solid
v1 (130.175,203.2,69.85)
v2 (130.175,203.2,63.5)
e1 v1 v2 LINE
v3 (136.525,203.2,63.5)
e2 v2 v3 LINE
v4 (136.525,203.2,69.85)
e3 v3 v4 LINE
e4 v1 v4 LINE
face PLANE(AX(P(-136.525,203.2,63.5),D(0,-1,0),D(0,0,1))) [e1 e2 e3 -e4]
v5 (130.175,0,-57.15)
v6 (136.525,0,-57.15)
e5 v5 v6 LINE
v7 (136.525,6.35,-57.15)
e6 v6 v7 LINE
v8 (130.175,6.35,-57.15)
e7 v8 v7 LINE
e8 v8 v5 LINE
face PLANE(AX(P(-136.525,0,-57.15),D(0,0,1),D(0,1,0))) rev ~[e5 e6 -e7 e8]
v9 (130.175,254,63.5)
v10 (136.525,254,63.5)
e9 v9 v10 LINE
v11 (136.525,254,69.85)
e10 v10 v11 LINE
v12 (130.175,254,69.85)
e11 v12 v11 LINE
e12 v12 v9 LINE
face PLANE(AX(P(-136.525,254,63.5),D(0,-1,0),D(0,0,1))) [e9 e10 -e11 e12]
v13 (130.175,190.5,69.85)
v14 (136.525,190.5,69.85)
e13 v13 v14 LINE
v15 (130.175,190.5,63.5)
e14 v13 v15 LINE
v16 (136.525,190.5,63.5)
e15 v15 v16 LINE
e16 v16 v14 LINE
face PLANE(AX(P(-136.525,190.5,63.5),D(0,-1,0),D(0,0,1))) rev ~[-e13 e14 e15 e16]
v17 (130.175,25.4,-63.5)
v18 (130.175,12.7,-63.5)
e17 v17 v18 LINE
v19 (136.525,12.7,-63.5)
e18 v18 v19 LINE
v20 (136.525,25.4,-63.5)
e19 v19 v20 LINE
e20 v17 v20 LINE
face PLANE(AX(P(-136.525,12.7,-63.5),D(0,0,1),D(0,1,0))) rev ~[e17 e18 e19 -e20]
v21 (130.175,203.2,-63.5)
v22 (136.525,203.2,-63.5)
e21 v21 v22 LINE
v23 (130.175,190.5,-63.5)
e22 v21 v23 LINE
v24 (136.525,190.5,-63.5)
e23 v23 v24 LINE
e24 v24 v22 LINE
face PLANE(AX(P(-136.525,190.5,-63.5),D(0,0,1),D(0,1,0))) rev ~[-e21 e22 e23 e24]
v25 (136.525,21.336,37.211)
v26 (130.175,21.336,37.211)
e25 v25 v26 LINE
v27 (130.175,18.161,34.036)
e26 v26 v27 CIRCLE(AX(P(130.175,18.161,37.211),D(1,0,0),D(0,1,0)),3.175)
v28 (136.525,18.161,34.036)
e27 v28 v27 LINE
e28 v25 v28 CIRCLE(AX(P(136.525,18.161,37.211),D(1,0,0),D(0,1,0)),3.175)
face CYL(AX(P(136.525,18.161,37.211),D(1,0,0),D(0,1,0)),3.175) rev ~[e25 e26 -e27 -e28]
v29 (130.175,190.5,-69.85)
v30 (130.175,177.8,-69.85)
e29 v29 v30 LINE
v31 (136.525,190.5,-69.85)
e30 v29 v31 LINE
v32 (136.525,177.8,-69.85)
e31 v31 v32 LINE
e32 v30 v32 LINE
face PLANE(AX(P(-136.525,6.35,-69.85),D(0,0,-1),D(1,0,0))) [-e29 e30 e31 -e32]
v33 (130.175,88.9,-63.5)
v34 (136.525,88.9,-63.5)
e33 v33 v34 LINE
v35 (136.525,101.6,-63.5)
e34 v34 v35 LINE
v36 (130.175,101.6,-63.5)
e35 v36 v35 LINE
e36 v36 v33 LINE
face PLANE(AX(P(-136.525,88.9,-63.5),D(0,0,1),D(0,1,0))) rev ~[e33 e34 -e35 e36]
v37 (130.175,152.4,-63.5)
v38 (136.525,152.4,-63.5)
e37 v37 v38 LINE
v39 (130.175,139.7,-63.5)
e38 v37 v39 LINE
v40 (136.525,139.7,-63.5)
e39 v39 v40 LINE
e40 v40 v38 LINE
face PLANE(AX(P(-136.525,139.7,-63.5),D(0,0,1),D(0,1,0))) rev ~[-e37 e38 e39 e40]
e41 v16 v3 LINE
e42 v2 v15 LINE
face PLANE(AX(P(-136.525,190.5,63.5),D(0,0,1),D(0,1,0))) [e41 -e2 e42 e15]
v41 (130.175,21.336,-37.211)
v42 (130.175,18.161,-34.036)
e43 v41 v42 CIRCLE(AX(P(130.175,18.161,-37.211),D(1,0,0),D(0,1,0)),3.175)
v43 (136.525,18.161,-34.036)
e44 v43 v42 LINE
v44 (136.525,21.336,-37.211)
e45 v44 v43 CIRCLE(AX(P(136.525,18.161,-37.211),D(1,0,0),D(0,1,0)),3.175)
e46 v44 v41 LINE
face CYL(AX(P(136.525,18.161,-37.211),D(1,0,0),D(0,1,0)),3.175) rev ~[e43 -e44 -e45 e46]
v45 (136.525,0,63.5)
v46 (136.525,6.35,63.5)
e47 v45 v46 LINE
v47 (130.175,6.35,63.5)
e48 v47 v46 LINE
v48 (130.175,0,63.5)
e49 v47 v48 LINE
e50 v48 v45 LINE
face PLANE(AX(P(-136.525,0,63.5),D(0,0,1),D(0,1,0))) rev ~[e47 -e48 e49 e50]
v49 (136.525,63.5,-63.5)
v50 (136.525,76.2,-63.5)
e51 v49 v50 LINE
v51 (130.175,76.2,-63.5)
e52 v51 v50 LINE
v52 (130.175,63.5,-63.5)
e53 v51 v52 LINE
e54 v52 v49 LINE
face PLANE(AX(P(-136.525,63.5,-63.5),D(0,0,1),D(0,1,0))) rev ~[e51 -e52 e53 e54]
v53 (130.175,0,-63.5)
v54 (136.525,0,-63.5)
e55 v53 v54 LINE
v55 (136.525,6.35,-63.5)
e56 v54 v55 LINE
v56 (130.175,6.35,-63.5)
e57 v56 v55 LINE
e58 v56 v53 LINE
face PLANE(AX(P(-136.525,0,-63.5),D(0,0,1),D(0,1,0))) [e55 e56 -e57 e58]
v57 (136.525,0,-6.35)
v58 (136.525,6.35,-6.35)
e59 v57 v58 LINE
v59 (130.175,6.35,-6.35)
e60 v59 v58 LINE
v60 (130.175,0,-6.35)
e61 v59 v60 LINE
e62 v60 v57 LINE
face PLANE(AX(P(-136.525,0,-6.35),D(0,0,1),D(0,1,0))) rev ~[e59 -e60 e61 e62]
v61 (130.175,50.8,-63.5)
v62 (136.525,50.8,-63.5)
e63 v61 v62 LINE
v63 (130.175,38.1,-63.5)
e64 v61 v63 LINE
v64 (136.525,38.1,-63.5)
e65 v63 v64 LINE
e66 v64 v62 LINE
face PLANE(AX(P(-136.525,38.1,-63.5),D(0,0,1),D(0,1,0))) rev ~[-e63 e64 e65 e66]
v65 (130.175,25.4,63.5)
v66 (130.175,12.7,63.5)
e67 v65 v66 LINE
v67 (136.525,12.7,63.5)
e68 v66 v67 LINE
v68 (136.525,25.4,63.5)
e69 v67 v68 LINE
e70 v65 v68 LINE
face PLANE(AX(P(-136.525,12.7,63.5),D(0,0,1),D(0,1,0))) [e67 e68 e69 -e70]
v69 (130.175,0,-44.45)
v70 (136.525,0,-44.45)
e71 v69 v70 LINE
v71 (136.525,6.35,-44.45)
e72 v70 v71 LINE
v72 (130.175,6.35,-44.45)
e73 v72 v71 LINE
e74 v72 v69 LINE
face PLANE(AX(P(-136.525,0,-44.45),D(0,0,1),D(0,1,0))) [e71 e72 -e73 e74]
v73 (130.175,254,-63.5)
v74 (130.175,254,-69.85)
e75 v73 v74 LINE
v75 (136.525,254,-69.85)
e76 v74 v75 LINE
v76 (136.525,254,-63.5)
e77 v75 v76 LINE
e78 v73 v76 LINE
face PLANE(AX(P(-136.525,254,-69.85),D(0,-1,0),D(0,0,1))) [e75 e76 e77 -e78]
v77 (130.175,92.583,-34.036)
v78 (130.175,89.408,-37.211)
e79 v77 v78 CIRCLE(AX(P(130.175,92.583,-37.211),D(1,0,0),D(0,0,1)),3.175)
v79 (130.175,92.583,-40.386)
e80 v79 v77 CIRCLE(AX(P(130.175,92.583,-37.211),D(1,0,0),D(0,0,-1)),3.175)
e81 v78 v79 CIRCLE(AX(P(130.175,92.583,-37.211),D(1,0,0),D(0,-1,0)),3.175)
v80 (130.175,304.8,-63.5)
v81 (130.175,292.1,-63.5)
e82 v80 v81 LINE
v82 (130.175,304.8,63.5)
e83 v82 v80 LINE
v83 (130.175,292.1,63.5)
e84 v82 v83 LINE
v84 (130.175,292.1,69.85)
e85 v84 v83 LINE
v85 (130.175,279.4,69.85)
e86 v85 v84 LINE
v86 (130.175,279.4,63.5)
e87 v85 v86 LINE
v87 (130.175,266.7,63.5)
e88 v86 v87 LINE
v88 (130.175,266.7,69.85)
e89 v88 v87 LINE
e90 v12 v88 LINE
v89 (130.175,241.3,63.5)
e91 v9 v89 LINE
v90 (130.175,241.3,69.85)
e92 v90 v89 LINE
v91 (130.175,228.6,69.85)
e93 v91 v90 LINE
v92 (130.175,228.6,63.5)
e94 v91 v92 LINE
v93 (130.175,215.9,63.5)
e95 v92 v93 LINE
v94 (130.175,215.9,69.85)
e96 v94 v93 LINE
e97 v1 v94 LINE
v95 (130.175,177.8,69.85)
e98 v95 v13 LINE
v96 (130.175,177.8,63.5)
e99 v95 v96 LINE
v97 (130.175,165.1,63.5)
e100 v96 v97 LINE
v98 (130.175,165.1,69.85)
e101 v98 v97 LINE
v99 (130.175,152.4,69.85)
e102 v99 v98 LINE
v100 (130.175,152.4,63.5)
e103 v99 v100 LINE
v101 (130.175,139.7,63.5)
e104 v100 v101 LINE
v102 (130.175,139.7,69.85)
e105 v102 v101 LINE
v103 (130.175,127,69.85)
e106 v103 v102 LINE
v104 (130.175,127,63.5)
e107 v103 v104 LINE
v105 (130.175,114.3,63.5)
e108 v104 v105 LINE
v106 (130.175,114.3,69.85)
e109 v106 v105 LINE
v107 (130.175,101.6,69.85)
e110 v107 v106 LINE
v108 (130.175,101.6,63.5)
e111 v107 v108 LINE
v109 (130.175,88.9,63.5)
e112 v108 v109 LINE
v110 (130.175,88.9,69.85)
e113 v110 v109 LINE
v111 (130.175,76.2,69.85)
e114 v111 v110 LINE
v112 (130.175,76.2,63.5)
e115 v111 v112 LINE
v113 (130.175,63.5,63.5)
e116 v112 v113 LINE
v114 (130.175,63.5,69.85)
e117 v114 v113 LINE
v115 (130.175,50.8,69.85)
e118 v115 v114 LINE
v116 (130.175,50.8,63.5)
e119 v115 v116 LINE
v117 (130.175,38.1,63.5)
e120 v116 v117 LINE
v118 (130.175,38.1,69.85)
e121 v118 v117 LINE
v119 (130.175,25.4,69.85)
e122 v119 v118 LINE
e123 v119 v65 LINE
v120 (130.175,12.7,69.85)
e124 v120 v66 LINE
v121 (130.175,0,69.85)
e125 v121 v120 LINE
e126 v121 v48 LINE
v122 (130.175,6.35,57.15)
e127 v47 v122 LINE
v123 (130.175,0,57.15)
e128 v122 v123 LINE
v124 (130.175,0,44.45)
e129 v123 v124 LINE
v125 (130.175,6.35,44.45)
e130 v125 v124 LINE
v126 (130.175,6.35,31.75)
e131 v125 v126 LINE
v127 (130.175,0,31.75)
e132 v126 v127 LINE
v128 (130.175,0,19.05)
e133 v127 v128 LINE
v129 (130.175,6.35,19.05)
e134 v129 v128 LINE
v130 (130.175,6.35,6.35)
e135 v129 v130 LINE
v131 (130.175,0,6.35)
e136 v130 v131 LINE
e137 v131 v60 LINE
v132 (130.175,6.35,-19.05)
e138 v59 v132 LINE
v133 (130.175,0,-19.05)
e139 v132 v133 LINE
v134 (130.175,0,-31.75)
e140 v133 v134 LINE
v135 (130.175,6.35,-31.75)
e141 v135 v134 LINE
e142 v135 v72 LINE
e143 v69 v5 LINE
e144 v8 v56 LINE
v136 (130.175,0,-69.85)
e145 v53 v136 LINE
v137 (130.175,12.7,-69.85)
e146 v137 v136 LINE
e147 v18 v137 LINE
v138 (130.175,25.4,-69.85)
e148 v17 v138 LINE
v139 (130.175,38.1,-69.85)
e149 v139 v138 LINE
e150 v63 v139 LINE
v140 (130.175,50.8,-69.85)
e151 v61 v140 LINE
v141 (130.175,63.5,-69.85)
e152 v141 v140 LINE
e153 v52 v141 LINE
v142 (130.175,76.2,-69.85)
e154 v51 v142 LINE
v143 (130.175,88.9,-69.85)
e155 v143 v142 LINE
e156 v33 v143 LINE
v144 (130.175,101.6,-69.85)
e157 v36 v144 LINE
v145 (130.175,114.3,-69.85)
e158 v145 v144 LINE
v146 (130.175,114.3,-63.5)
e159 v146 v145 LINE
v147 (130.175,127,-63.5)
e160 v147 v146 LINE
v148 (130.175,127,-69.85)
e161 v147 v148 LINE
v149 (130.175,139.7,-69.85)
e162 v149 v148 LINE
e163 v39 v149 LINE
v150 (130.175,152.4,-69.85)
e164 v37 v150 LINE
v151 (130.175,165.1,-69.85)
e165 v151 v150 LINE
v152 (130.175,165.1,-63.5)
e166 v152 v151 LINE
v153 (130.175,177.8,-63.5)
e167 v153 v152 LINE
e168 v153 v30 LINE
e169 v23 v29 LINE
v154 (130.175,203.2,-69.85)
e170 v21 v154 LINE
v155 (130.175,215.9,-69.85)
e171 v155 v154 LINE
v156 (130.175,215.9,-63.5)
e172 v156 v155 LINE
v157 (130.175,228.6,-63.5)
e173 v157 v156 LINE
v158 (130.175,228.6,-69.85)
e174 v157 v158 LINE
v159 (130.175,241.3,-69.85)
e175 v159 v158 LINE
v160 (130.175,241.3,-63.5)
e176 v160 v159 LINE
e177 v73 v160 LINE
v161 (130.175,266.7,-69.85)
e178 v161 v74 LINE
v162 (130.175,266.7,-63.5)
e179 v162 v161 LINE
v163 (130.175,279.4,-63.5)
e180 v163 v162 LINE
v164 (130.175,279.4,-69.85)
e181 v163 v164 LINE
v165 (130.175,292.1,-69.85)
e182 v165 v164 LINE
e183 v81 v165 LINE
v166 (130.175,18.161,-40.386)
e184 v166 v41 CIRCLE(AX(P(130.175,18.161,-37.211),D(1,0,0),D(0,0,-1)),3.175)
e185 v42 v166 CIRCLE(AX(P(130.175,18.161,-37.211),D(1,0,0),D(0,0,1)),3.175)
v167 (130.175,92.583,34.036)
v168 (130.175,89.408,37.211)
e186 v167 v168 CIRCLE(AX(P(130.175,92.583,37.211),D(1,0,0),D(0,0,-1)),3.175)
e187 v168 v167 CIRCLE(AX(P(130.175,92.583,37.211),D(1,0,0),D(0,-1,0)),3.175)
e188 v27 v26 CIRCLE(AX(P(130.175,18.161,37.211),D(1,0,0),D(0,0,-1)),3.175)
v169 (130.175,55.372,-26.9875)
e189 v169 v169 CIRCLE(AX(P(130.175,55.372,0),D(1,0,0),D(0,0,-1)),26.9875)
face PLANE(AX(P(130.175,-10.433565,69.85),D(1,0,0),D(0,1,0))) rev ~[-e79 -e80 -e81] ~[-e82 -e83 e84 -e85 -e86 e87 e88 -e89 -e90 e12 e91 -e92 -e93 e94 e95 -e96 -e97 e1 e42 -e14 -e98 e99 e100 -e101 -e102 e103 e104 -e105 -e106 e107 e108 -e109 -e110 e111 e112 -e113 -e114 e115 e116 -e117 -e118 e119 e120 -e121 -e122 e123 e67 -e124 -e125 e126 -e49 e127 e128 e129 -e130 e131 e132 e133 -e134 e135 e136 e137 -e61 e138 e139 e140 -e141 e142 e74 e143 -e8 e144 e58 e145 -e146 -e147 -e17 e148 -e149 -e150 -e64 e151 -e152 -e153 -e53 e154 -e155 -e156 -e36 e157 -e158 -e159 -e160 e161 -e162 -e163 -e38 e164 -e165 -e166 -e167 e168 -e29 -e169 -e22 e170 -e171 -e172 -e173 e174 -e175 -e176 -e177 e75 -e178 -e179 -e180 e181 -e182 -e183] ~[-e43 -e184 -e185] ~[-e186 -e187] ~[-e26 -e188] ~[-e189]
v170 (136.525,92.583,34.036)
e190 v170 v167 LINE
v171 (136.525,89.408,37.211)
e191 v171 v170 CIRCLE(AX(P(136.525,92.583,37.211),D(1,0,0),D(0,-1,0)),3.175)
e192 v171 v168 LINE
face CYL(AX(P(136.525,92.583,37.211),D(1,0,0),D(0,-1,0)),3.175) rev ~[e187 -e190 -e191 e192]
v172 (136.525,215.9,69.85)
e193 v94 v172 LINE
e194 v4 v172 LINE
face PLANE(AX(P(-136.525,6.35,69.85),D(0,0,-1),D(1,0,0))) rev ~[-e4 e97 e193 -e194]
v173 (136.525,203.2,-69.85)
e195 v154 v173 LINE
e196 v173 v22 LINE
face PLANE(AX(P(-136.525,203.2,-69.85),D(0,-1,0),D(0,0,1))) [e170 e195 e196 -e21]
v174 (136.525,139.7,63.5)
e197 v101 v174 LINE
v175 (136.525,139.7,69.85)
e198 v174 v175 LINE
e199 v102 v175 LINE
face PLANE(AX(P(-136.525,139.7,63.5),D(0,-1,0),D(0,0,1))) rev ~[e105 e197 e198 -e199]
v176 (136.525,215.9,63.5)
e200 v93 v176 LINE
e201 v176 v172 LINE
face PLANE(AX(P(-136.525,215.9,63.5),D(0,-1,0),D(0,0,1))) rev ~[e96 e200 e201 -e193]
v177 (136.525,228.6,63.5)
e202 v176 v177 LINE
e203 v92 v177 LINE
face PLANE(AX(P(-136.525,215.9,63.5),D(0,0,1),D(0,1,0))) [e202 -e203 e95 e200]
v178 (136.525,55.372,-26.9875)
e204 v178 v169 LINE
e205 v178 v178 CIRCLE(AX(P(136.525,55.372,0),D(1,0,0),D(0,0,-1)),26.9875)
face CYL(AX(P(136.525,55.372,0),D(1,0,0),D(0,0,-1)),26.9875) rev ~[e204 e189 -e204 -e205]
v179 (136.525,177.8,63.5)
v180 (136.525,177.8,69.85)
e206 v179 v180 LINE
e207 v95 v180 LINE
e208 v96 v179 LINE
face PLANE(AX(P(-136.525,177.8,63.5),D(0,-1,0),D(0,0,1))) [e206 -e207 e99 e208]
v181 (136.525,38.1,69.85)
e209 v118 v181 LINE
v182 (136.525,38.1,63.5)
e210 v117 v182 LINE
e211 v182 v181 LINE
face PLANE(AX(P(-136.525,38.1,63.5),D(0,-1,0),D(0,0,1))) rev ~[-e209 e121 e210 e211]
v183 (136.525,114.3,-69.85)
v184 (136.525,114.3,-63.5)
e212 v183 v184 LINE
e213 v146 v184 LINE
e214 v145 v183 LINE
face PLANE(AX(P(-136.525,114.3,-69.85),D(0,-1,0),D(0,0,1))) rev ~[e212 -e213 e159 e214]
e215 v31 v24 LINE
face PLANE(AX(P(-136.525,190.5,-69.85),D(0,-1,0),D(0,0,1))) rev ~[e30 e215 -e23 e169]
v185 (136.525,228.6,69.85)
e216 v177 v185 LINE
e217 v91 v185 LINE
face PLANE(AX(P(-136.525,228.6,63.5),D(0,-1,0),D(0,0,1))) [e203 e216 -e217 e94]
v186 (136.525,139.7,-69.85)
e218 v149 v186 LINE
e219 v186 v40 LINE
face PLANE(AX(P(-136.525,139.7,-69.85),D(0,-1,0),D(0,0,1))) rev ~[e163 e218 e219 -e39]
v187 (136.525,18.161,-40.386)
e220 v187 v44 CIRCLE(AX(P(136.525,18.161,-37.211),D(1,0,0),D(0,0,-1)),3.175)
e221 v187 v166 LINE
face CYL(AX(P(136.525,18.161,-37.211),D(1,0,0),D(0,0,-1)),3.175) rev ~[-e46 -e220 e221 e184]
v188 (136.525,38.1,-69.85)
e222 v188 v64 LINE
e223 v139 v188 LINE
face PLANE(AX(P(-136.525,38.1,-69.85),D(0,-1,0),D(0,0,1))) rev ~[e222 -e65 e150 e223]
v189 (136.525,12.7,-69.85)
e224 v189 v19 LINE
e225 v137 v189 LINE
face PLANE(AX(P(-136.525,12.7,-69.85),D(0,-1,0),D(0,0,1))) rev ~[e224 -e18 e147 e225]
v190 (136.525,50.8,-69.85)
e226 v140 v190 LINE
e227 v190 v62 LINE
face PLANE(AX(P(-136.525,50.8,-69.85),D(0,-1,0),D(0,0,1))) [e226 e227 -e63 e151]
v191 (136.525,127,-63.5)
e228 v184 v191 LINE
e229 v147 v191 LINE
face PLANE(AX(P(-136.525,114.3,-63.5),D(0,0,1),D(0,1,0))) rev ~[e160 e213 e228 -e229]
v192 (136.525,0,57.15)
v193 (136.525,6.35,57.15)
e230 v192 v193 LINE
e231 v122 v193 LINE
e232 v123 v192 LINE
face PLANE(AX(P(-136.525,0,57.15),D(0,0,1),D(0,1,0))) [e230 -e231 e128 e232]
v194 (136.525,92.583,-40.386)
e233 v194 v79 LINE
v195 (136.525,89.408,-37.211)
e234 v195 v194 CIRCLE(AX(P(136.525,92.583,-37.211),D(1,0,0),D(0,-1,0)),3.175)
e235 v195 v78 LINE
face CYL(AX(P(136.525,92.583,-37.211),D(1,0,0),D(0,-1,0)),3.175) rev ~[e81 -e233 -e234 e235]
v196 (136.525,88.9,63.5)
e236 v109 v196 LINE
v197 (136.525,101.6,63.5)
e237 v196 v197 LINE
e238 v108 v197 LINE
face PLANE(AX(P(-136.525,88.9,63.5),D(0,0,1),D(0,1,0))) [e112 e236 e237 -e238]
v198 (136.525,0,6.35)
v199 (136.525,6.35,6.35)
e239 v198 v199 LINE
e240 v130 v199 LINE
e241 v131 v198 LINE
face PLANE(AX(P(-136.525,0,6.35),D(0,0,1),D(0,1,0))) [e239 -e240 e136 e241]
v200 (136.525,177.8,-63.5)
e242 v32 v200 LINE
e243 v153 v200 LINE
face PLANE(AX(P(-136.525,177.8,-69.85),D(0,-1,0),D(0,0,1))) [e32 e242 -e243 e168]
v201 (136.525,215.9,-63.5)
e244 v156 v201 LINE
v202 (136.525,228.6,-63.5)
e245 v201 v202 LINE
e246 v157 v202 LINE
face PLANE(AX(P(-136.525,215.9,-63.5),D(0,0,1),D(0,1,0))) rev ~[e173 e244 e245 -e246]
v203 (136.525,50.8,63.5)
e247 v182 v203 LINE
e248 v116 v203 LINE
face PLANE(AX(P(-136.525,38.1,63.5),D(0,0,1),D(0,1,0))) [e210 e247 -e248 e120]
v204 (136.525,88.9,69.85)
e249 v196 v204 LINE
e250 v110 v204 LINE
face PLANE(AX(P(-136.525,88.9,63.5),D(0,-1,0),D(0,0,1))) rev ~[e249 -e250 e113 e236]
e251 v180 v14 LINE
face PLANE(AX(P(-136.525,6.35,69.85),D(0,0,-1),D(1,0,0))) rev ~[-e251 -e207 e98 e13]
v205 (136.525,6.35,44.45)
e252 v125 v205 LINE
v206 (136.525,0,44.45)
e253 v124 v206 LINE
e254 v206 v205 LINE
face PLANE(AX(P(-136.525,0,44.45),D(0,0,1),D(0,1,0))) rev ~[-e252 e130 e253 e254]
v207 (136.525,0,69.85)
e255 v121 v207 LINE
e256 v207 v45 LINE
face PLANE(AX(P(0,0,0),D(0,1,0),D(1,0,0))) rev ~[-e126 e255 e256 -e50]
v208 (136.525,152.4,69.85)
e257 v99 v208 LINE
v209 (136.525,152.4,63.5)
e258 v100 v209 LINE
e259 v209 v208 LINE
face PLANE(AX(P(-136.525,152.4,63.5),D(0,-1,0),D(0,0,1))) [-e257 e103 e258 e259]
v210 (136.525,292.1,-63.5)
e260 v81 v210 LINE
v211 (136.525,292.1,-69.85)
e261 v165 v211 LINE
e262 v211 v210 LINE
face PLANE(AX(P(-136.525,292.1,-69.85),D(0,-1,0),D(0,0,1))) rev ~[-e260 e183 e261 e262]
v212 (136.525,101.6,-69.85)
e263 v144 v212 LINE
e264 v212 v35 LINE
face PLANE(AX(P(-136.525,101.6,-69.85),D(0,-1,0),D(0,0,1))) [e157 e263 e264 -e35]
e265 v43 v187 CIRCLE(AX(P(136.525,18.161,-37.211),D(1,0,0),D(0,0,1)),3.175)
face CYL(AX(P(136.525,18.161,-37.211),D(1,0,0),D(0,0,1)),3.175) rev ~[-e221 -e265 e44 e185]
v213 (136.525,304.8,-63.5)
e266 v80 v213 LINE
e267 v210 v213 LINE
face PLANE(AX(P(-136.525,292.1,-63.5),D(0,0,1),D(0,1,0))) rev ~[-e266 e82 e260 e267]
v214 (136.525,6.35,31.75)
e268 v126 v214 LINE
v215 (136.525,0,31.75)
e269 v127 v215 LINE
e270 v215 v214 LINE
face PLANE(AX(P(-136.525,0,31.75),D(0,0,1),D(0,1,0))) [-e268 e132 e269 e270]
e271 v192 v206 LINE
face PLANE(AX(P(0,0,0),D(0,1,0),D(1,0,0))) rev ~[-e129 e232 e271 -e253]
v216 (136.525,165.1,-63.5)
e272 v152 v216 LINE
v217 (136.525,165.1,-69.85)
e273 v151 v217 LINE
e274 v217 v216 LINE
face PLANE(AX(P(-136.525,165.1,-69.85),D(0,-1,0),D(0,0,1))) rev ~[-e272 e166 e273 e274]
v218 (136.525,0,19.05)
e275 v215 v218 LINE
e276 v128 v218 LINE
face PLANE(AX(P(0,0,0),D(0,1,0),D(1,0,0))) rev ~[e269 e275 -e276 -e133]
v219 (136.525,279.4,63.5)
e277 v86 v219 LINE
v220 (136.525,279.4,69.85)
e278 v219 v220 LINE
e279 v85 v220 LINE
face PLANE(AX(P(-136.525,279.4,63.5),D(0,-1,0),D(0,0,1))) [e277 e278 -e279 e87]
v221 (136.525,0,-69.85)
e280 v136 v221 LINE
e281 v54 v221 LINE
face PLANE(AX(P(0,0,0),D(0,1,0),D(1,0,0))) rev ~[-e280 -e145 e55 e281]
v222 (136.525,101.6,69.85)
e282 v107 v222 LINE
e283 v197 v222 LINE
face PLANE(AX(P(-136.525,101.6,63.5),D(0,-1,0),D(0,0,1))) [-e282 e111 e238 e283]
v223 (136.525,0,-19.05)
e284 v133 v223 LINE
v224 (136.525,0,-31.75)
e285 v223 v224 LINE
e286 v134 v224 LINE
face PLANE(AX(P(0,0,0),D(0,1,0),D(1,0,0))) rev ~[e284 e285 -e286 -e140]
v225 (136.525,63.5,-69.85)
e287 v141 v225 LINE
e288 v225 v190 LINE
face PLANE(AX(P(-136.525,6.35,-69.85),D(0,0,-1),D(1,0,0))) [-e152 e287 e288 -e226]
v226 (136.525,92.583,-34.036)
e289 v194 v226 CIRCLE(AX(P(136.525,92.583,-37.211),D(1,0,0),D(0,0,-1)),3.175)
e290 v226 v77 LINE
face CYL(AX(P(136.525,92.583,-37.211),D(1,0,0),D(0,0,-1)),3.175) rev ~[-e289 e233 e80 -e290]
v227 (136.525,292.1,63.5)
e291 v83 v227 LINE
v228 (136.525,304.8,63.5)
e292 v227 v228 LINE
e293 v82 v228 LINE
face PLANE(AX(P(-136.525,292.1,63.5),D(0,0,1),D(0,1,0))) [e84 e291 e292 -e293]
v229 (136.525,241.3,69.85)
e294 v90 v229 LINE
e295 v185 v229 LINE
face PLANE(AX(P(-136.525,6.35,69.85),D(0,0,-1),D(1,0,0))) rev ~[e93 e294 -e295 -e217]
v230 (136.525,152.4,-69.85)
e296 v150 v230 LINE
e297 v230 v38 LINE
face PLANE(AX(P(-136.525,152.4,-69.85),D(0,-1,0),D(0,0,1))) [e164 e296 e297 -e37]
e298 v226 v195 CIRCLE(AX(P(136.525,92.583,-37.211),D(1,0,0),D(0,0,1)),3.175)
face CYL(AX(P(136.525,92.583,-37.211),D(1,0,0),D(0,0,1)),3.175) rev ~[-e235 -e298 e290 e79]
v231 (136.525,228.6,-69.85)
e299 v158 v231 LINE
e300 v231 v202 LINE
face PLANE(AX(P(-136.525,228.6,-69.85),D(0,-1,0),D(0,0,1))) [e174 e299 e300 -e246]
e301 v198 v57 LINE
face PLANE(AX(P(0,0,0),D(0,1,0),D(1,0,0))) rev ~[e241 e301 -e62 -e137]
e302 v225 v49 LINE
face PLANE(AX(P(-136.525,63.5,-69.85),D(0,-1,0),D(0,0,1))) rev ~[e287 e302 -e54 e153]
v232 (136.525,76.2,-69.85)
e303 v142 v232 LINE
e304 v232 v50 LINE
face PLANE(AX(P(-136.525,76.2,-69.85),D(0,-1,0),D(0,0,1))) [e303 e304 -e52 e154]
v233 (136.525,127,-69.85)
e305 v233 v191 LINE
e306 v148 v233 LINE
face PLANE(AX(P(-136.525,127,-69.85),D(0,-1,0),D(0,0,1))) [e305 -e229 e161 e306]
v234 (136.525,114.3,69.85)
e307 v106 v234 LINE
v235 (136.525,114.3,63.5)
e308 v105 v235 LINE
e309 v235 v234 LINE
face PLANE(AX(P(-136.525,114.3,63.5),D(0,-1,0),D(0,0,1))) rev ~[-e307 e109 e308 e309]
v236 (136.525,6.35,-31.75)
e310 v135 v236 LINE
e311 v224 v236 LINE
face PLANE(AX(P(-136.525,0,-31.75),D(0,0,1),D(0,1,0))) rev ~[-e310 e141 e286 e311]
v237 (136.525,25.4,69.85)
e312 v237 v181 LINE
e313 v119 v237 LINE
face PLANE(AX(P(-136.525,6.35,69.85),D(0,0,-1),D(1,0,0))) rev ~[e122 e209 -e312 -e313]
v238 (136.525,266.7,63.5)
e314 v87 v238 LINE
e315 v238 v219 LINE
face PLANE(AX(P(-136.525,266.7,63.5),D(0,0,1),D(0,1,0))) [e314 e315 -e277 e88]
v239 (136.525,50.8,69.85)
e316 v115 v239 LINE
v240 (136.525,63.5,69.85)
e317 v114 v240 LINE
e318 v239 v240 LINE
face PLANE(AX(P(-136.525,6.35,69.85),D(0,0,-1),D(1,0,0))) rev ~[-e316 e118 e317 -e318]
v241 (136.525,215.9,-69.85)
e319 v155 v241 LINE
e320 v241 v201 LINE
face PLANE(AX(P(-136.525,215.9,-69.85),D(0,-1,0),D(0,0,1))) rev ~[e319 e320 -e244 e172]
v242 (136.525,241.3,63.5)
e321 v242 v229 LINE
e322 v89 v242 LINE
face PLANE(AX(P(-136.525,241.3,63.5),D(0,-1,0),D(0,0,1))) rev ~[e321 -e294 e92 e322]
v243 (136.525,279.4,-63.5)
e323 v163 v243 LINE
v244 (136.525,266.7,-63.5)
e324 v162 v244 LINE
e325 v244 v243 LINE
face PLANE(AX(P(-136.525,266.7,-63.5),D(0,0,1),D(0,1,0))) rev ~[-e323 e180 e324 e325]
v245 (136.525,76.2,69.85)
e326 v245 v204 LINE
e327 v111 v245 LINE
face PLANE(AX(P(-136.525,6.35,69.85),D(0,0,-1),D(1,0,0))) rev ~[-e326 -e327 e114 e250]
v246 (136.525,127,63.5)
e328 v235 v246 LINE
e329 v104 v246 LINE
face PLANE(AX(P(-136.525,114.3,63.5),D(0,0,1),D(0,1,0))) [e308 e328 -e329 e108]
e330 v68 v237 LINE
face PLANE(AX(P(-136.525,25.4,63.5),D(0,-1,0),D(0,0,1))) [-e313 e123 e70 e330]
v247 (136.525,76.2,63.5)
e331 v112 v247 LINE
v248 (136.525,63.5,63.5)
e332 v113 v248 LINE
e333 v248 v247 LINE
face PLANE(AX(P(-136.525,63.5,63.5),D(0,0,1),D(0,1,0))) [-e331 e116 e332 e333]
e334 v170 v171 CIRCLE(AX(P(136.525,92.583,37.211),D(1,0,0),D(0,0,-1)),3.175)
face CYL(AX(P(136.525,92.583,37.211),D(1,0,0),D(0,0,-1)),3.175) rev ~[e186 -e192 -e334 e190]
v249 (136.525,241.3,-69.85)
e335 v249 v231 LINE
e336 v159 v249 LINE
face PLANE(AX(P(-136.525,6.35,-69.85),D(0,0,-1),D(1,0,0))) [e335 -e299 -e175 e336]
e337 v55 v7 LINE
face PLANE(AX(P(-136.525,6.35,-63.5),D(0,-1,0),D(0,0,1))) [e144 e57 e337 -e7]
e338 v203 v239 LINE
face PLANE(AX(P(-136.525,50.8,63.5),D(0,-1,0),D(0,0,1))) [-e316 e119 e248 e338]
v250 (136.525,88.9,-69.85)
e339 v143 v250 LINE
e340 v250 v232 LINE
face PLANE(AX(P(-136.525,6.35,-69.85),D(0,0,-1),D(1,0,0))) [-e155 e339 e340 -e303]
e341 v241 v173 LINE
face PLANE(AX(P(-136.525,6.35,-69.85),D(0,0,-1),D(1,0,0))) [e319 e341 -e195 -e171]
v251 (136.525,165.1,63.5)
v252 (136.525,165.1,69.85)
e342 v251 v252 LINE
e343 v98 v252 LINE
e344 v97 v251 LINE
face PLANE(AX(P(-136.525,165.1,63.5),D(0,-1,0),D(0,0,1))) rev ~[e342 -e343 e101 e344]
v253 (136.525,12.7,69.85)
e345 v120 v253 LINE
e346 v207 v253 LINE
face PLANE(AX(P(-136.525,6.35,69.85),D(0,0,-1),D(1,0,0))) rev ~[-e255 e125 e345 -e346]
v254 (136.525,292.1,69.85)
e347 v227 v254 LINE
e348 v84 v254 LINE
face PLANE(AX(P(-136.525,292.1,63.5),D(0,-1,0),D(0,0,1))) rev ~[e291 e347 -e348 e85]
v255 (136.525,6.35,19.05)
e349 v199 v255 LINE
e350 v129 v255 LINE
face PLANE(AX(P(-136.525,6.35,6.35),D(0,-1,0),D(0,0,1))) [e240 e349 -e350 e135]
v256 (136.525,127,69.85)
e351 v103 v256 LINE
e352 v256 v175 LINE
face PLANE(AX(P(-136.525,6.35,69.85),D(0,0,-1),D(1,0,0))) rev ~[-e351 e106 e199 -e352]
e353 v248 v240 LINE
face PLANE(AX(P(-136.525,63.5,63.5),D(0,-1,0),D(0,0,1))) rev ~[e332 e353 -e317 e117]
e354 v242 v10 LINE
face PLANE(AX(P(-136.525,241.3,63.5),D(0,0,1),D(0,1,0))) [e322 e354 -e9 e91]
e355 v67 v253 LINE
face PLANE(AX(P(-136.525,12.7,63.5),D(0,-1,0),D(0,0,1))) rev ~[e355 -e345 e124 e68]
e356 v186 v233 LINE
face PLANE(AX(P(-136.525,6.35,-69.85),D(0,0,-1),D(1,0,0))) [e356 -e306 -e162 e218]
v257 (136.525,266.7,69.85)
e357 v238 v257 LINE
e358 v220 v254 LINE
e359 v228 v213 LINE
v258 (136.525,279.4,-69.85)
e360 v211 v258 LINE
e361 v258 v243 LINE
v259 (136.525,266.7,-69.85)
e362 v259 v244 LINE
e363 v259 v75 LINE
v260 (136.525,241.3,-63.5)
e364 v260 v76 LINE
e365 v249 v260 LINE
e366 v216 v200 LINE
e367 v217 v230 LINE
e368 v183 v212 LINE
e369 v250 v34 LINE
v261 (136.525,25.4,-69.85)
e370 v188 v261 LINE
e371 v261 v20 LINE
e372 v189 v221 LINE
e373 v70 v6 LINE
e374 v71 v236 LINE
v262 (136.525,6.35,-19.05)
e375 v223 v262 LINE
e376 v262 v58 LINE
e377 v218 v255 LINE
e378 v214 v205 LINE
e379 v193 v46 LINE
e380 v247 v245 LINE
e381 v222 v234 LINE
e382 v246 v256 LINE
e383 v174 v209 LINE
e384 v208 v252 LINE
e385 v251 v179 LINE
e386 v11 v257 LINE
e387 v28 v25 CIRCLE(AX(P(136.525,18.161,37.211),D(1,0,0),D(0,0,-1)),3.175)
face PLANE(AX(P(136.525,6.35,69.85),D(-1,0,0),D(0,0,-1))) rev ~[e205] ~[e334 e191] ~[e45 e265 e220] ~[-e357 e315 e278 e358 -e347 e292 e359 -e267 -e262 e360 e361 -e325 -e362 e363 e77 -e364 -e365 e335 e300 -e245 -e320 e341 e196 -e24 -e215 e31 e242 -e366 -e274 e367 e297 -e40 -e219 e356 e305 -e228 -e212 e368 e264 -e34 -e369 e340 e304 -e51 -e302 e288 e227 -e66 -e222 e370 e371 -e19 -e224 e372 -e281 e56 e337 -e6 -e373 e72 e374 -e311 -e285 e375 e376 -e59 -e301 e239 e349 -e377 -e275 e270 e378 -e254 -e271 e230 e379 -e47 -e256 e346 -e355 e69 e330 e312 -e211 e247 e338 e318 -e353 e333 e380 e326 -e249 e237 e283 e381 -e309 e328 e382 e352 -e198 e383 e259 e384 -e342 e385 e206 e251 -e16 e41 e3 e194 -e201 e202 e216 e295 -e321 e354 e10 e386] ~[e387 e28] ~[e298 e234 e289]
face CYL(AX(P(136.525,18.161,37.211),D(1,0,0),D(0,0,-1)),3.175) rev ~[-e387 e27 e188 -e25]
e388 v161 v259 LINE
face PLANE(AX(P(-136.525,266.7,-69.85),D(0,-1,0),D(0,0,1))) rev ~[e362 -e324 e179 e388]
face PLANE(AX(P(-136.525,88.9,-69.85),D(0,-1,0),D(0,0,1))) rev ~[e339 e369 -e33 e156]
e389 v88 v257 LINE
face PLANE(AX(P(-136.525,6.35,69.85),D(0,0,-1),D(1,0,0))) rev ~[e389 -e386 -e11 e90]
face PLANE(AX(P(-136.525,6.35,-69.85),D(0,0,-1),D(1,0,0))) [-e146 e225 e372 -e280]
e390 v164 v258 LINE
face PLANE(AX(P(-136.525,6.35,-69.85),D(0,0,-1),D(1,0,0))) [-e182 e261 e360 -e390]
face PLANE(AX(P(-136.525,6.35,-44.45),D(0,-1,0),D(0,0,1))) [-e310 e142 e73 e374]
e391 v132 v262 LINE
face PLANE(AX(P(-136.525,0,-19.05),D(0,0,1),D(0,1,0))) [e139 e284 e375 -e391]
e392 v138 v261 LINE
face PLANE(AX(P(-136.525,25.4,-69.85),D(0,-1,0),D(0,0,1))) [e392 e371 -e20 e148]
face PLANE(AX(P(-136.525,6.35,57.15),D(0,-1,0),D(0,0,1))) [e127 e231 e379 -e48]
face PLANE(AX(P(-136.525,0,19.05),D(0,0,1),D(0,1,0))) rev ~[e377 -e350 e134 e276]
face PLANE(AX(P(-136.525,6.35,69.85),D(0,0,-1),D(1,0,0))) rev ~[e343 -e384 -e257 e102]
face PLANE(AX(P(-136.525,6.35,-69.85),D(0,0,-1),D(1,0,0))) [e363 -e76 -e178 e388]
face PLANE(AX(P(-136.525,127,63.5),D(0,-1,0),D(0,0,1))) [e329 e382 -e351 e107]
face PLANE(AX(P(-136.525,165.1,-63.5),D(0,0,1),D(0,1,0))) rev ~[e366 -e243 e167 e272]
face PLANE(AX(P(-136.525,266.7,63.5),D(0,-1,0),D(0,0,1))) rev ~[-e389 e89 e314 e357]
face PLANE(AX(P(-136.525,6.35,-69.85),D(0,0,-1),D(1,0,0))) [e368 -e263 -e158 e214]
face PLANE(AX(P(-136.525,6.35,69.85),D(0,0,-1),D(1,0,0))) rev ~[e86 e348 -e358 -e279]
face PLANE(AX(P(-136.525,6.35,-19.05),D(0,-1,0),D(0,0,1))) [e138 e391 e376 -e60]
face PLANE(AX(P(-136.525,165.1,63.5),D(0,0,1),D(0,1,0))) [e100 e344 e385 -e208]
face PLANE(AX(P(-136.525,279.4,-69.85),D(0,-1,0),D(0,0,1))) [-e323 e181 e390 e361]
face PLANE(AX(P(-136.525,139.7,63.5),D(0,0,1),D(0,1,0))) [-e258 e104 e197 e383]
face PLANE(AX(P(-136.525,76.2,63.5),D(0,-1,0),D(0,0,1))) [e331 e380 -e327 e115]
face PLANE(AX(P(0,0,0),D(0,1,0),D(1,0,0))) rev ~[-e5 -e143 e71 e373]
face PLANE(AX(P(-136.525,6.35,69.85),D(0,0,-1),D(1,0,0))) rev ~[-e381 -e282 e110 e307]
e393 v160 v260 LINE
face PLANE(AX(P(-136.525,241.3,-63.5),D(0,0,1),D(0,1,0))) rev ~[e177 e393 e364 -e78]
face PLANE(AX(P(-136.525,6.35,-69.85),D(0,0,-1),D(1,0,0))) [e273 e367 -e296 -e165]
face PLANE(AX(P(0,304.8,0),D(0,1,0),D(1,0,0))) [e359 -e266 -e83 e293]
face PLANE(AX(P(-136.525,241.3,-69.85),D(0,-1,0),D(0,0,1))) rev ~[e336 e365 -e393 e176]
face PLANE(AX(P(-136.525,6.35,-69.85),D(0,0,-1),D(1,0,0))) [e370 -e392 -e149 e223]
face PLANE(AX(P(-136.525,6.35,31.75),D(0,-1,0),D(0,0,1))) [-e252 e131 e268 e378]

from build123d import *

# Parameters (mm, degrees)
SKETCH1_W              = 273.05
SKETCH1_H              = 139.7
BOSS_EXTRUDE1_DEPTH    = 6.35
SKETCH2_W              = 273.05
SKETCH2_H              = 139.7
SKETCH2_W_2            = 260.35
SKETCH2_H_2            = 127
BOSS_EXTRUDE2_DEPTH    = 298.45
SKETCH3_W              = 6.35
SKETCH3_H              = 16.933333333
SKETCH3_H_2            = 16.933333334
DOOR_SLOT_DEPTH        = 12.7
DOOR_GUIDE_HOLES_REACH = 361.617
SKETCH4_W              = 6.35
SKETCH4_H              = 15.875
LEVER_HOLES_W          = 9.652
LEVER_HOLES_H          = 6.35
LEVER_HOLES_W_2        = 6.35
CUT_EXTRUDE1_DEPTH     = 363.019620497
CUT_EXTRUDE2_REACH     = 417.137
SKETCH7_R              = 26.9875
CUT_EXTRUDE3_REACH     = 417.137
SKETCH8_R              = 3.175
SKETCH16_W             = 326.476778096
SKETCH16_H             = 315.233565403
CUT_EXTRUDE10_DEPTH    = 363.019620497
LEFT_RIGHT_W           = 6.35
LEFT_RIGHT_H           = 6.35
LEFT_RIGHT_W_2         = 12.7
LEFT_RIGHT_H_2         = 12.7
CUT_EXTRUDE11_DEPTH    = 416.136561869


with BuildPart() as part:
    # Sketch1 → Boss-Extrude1 (new body)
    with BuildSketch(Plane(origin=(0, 0, 0), x_dir=(1, 0, 0), z_dir=(0, 1, 0))):
        Rectangle(SKETCH1_W, SKETCH1_H)
    extrude(amount=BOSS_EXTRUDE1_DEPTH)

    # Sketch2 → Boss-Extrude2 (add)
    with BuildSketch(Plane(origin=(0, 6.35, 0), x_dir=(1, 0, 0), z_dir=(0, 1, 0))):
        Rectangle(SKETCH2_W, SKETCH2_H)
        Rectangle(SKETCH2_W_2, SKETCH2_H_2, mode=Mode.SUBTRACT)
    extrude(amount=BOSS_EXTRUDE2_DEPTH)

    # Sketch3 → Door Slot (cut)
    with BuildSketch(Plane.XY.offset(69.85)):
        with BuildLine():
            Line((-28.575, 283.21), (-28.575, 6.35))
            Line((-28.575, 6.35), (-21.971, 6.35))
            Line((-21.971, 6.35), (-21.971, 292.354))
            Line((-21.971, 292.354), (-41.529, 292.354))
            Line((-41.529, 292.354), (-41.529, 285.75))
            Line((-41.529, 285.75), (-31.115, 285.75))
            ThreePointArc((-31.115, 285.75), (-29.318948776, 285.006051224), (-28.575, 283.21))
        make_face()
        with Locations((-12.446, 80.433333334)):
            Rectangle(SKETCH3_W, SKETCH3_H)
        with Locations((-12.446, 50.8)):
            Rectangle(SKETCH3_W, SKETCH3_H_2)
        with Locations((-12.446, 21.166666667)):
            Rectangle(SKETCH3_W, SKETCH3_H)
    extrude(amount=-DOOR_SLOT_DEPTH, mode=Mode.SUBTRACT)

    # Sketch4 → Door Guide Holes (cut, up to next)
    with BuildSketch(Plane.XY.offset(-63.5), mode=Mode.PRIVATE) as door_guide_holes_sk1:
        with Locations((-44.704, 284.1625)):
            Rectangle(SKETCH4_W, SKETCH4_H)
    door_guide_holes_tool1 = extrude(door_guide_holes_sk1.sketch, amount=-DOOR_GUIDE_HOLES_REACH, mode=Mode.PRIVATE) & part.part
    # Sketch4 → Door Guide Holes (cut, up to next)
    with BuildSketch(Plane.XY.offset(-63.5), mode=Mode.PRIVATE) as door_guide_holes_sk2:
        with Locations((-44.704, 255.5875)):
            Rectangle(SKETCH4_W, SKETCH4_H)
    door_guide_holes_tool2 = extrude(door_guide_holes_sk2.sketch, amount=-DOOR_GUIDE_HOLES_REACH, mode=Mode.PRIVATE) & part.part
    # Sketch4 → Door Guide Holes (cut, up to next)
    with BuildSketch(Plane.XY.offset(-63.5), mode=Mode.PRIVATE) as door_guide_holes_sk3:
        with Locations((-44.704, 227.0125)):
            Rectangle(SKETCH4_W, SKETCH4_H)
    door_guide_holes_tool3 = extrude(door_guide_holes_sk3.sketch, amount=-DOOR_GUIDE_HOLES_REACH, mode=Mode.PRIVATE) & part.part
    # Sketch4 → Door Guide Holes (cut, up to next)
    with BuildSketch(Plane.XY.offset(-63.5), mode=Mode.PRIVATE) as door_guide_holes_sk4:
        with Locations((-44.704, 198.4375)):
            Rectangle(SKETCH4_W, SKETCH4_H)
    door_guide_holes_tool4 = extrude(door_guide_holes_sk4.sketch, amount=-DOOR_GUIDE_HOLES_REACH, mode=Mode.PRIVATE) & part.part
    # Sketch4 → Door Guide Holes (cut, up to next)
    with BuildSketch(Plane.XY.offset(-63.5), mode=Mode.PRIVATE) as door_guide_holes_sk5:
        with Locations((-44.704, 169.8625)):
            Rectangle(SKETCH4_W, SKETCH4_H)
    door_guide_holes_tool5 = extrude(door_guide_holes_sk5.sketch, amount=-DOOR_GUIDE_HOLES_REACH, mode=Mode.PRIVATE) & part.part
    # Sketch4 → Door Guide Holes (cut, up to next)
    with BuildSketch(Plane.XY.offset(-63.5), mode=Mode.PRIVATE) as door_guide_holes_sk6:
        with Locations((-44.704, 141.2875)):
            Rectangle(SKETCH4_W, SKETCH4_H)
    door_guide_holes_tool6 = extrude(door_guide_holes_sk6.sketch, amount=-DOOR_GUIDE_HOLES_REACH, mode=Mode.PRIVATE) & part.part
    # Sketch4 → Door Guide Holes (cut, up to next)
    with BuildSketch(Plane.XY.offset(-63.5), mode=Mode.PRIVATE) as door_guide_holes_sk7:
        with Locations((-44.704, 112.7125)):
            Rectangle(SKETCH4_W, SKETCH4_H)
    door_guide_holes_tool7 = extrude(door_guide_holes_sk7.sketch, amount=-DOOR_GUIDE_HOLES_REACH, mode=Mode.PRIVATE) & part.part
    # Sketch4 → Door Guide Holes (cut, up to next)
    with BuildSketch(Plane.XY.offset(-63.5), mode=Mode.PRIVATE) as door_guide_holes_sk8:
        with Locations((-44.704, 84.1375)):
            Rectangle(SKETCH4_W, SKETCH4_H)
    door_guide_holes_tool8 = extrude(door_guide_holes_sk8.sketch, amount=-DOOR_GUIDE_HOLES_REACH, mode=Mode.PRIVATE) & part.part
    # Sketch4 → Door Guide Holes (cut, up to next)
    with BuildSketch(Plane.XY.offset(-63.5), mode=Mode.PRIVATE) as door_guide_holes_sk9:
        with Locations((-44.704, 55.5625)):
            Rectangle(SKETCH4_W, SKETCH4_H)
    door_guide_holes_tool9 = extrude(door_guide_holes_sk9.sketch, amount=-DOOR_GUIDE_HOLES_REACH, mode=Mode.PRIVATE) & part.part
    # Sketch4 → Door Guide Holes (cut, up to next)
    with BuildSketch(Plane.XY.offset(-63.5), mode=Mode.PRIVATE) as door_guide_holes_sk10:
        with Locations((-44.704, 26.9875)):
            Rectangle(SKETCH4_W, SKETCH4_H)
    door_guide_holes_tool10 = extrude(door_guide_holes_sk10.sketch, amount=-DOOR_GUIDE_HOLES_REACH, mode=Mode.PRIVATE) & part.part
    door_guide_holes_1 = door_guide_holes_tool1.solids().sort_by_distance((-44.704, 284.1625, -63.5))[0]
    add(door_guide_holes_1, mode=Mode.SUBTRACT)
    door_guide_holes_2 = door_guide_holes_tool2.solids().sort_by_distance((-44.704, 255.5875, -63.5))[0]
    add(door_guide_holes_2, mode=Mode.SUBTRACT)
    door_guide_holes_3 = door_guide_holes_tool3.solids().sort_by_distance((-44.704, 227.0125, -63.5))[0]
    add(door_guide_holes_3, mode=Mode.SUBTRACT)
    door_guide_holes_4 = door_guide_holes_tool4.solids().sort_by_distance((-44.704, 198.4375, -63.5))[0]
    add(door_guide_holes_4, mode=Mode.SUBTRACT)
    door_guide_holes_5 = door_guide_holes_tool5.solids().sort_by_distance((-44.704, 169.8625, -63.5))[0]
    add(door_guide_holes_5, mode=Mode.SUBTRACT)
    door_guide_holes_6 = door_guide_holes_tool6.solids().sort_by_distance((-44.704, 141.2875, -63.5))[0]
    add(door_guide_holes_6, mode=Mode.SUBTRACT)
    door_guide_holes_7 = door_guide_holes_tool7.solids().sort_by_distance((-44.704, 112.7125, -63.5))[0]
    add(door_guide_holes_7, mode=Mode.SUBTRACT)
    door_guide_holes_8 = door_guide_holes_tool8.solids().sort_by_distance((-44.704, 84.1375, -63.5))[0]
    add(door_guide_holes_8, mode=Mode.SUBTRACT)
    door_guide_holes_9 = door_guide_holes_tool9.solids().sort_by_distance((-44.704, 55.5625, -63.5))[0]
    add(door_guide_holes_9, mode=Mode.SUBTRACT)
    door_guide_holes_10 = door_guide_holes_tool10.solids().sort_by_distance((-44.704, 26.9875, -63.5))[0]
    add(door_guide_holes_10, mode=Mode.SUBTRACT)
    door_guide_holes = door_guide_holes_1 + door_guide_holes_2 + door_guide_holes_3 + door_guide_holes_4 + door_guide_holes_5 + door_guide_holes_6 + door_guide_holes_7 + door_guide_holes_8 + door_guide_holes_9 + door_guide_holes_10  # Door Guide Holes as one shape, for the pattern or mirror that repeats it

    # Mirror1: Door Guide Holes across plane
    add(door_guide_holes.mirror(Plane.ZY.offset(31.75)), mode=Mode.SUBTRACT)

    # Lever Holes → Cut-Extrude1 (cut, through all)
    with BuildSketch(Plane.XY.offset(69.85)):
        with Locations((54.102, 28.575)):
            Rectangle(LEVER_HOLES_W, LEVER_HOLES_H)
        with Locations((39.3065, 15.875)):
            Rectangle(LEVER_HOLES_W_2, LEVER_HOLES_H)
        with Locations((68.8975, 15.875)):
            Rectangle(LEVER_HOLES_W_2, LEVER_HOLES_H)
    extrude(amount=-CUT_EXTRUDE1_DEPTH, mode=Mode.SUBTRACT)

    # Sketch7 → Cut-Extrude2 (cut, up to next)
    with BuildSketch(Plane(origin=(136.525, 0, 0), x_dir=(0, 0, -1), z_dir=(1, 0, 0)), mode=Mode.PRIVATE) as cut_extrude2_sk1:
        with Locations((0, 55.372)):
            Circle(SKETCH7_R)
    cut_extrude2_tool1 = extrude(cut_extrude2_sk1.sketch, amount=-CUT_EXTRUDE2_REACH, mode=Mode.PRIVATE) & part.part
    # Sketch7 → Cut-Extrude2 (cut, up to next)
    with BuildSketch(Plane(origin=(136.525, 0, 0), x_dir=(0, 0, -1), z_dir=(1, 0, 0)), mode=Mode.PRIVATE) as cut_extrude2_sk2:
        with BuildLine():
            Line((-37.211, 89.408), (-37.211, 92.583))
            Line((-37.211, 92.583), (-34.036, 92.583))
            ThreePointArc((-34.036, 92.583), (-39.45606403, 94.82806403), (-37.211, 89.408))
        make_face()
    cut_extrude2_tool2 = extrude(cut_extrude2_sk2.sketch, amount=-CUT_EXTRUDE2_REACH, mode=Mode.PRIVATE) & part.part
    # Sketch7 → Cut-Extrude2 (cut, up to next)
    with BuildSketch(Plane(origin=(136.525, 0, 0), x_dir=(0, 0, -1), z_dir=(1, 0, 0)), mode=Mode.PRIVATE) as cut_extrude2_sk3:
        with BuildLine():
            Line((-34.036, 92.583), (-37.211, 92.583))
            Line((-37.211, 92.583), (-37.211, 89.408))
            ThreePointArc((-37.211, 89.408), (-34.96593597, 90.33793597), (-34.036, 92.583))
        make_face()
    cut_extrude2_tool3 = extrude(cut_extrude2_sk3.sketch, amount=-CUT_EXTRUDE2_REACH, mode=Mode.PRIVATE) & part.part
    # Sketch7 → Cut-Extrude2 (cut, up to next)
    with BuildSketch(Plane(origin=(136.525, 0, 0), x_dir=(0, 0, -1), z_dir=(1, 0, 0)), mode=Mode.PRIVATE) as cut_extrude2_sk4:
        with BuildLine():
            Line((-37.211, 89.408), (-37.211, 92.583))
            Line((-37.211, 92.583), (-34.036, 92.583))
            ThreePointArc((-34.036, 92.583), (-39.45606403, 94.82806403), (-37.211, 89.408))
        make_face()
    cut_extrude2_tool4 = extrude(cut_extrude2_sk4.sketch, amount=-CUT_EXTRUDE2_REACH, mode=Mode.PRIVATE) & part.part
    # Sketch7 → Cut-Extrude2 (cut, up to next)
    with BuildSketch(Plane(origin=(136.525, 0, 0), x_dir=(0, 0, -1), z_dir=(1, 0, 0)), mode=Mode.PRIVATE) as cut_extrude2_sk5:
        with BuildLine():
            Line((-34.036, 92.583), (-37.211, 92.583))
            Line((-37.211, 92.583), (-37.211, 89.408))
            ThreePointArc((-37.211, 89.408), (-34.96593597, 90.33793597), (-34.036, 92.583))
        make_face()
    cut_extrude2_tool5 = extrude(cut_extrude2_sk5.sketch, amount=-CUT_EXTRUDE2_REACH, mode=Mode.PRIVATE) & part.part
    # Sketch7 → Cut-Extrude2 (cut, up to next)
    with BuildSketch(Plane(origin=(136.525, 0, 0), x_dir=(0, 0, -1), z_dir=(1, 0, 0)), mode=Mode.PRIVATE) as cut_extrude2_sk6:
        with BuildLine():
            ThreePointArc((40.386, 92.583), (37.211, 95.758), (34.036, 92.583))
            Line((34.036, 92.583), (37.211, 92.583))
            Line((37.211, 92.583), (37.211, 89.408))
            ThreePointArc((37.211, 89.408), (39.45606403, 90.33793597), (40.386, 92.583))
        make_face()
    cut_extrude2_tool6 = extrude(cut_extrude2_sk6.sketch, amount=-CUT_EXTRUDE2_REACH, mode=Mode.PRIVATE) & part.part
    # Sketch7 → Cut-Extrude2 (cut, up to next)
    with BuildSketch(Plane(origin=(136.525, 0, 0), x_dir=(0, 0, -1), z_dir=(1, 0, 0)), mode=Mode.PRIVATE) as cut_extrude2_sk7:
        with BuildLine():
            Line((37.211, 92.583), (34.036, 92.583))
            ThreePointArc((34.036, 92.583), (34.96593597, 90.33793597), (37.211, 89.408))
            Line((37.211, 89.408), (37.211, 92.583))
        make_face()
    cut_extrude2_tool7 = extrude(cut_extrude2_sk7.sketch, amount=-CUT_EXTRUDE2_REACH, mode=Mode.PRIVATE) & part.part
    # Sketch7 → Cut-Extrude2 (cut, up to next)
    with BuildSketch(Plane(origin=(136.525, 0, 0), x_dir=(0, 0, -1), z_dir=(1, 0, 0)), mode=Mode.PRIVATE) as cut_extrude2_sk8:
        with BuildLine():
            ThreePointArc((40.386, 92.583), (37.211, 95.758), (34.036, 92.583))
            Line((34.036, 92.583), (37.211, 92.583))
            Line((37.211, 92.583), (37.211, 89.408))
            ThreePointArc((37.211, 89.408), (39.45606403, 90.33793597), (40.386, 92.583))
        make_face()
    cut_extrude2_tool8 = extrude(cut_extrude2_sk8.sketch, amount=-CUT_EXTRUDE2_REACH, mode=Mode.PRIVATE) & part.part
    # Sketch7 → Cut-Extrude2 (cut, up to next)
    with BuildSketch(Plane(origin=(136.525, 0, 0), x_dir=(0, 0, -1), z_dir=(1, 0, 0)), mode=Mode.PRIVATE) as cut_extrude2_sk9:
        with BuildLine():
            Line((37.211, 92.583), (34.036, 92.583))
            ThreePointArc((34.036, 92.583), (34.96593597, 90.33793597), (37.211, 89.408))
            Line((37.211, 89.408), (37.211, 92.583))
        make_face()
    cut_extrude2_tool9 = extrude(cut_extrude2_sk9.sketch, amount=-CUT_EXTRUDE2_REACH, mode=Mode.PRIVATE) & part.part
    # Sketch7 → Cut-Extrude2 (cut, up to next)
    with BuildSketch(Plane(origin=(136.525, 0, 0), x_dir=(0, 0, -1), z_dir=(1, 0, 0)), mode=Mode.PRIVATE) as cut_extrude2_sk10:
        with BuildLine():
            ThreePointArc((-34.036, 18.161), (-34.96593597, 20.40606403), (-37.211, 21.336))
            Line((-37.211, 21.336), (-37.211, 18.161))
            Line((-37.211, 18.161), (-34.036, 18.161))
        make_face()
    cut_extrude2_tool10 = extrude(cut_extrude2_sk10.sketch, amount=-CUT_EXTRUDE2_REACH, mode=Mode.PRIVATE) & part.part
    # Sketch7 → Cut-Extrude2 (cut, up to next)
    with BuildSketch(Plane(origin=(136.525, 0, 0), x_dir=(0, 0, -1), z_dir=(1, 0, 0)), mode=Mode.PRIVATE) as cut_extrude2_sk11:
        with BuildLine():
            Line((-37.211, 18.161), (-37.211, 21.336))
            ThreePointArc((-37.211, 21.336), (-39.45606403, 15.91593597), (-34.036, 18.161))
            Line((-34.036, 18.161), (-37.211, 18.161))
        make_face()
    cut_extrude2_tool11 = extrude(cut_extrude2_sk11.sketch, amount=-CUT_EXTRUDE2_REACH, mode=Mode.PRIVATE) & part.part
    # Sketch7 → Cut-Extrude2 (cut, up to next)
    with BuildSketch(Plane(origin=(136.525, 0, 0), x_dir=(0, 0, -1), z_dir=(1, 0, 0)), mode=Mode.PRIVATE) as cut_extrude2_sk12:
        with BuildLine():
            ThreePointArc((-34.036, 18.161), (-34.96593597, 20.40606403), (-37.211, 21.336))
            Line((-37.211, 21.336), (-37.211, 18.161))
            Line((-37.211, 18.161), (-34.036, 18.161))
        make_face()
    cut_extrude2_tool12 = extrude(cut_extrude2_sk12.sketch, amount=-CUT_EXTRUDE2_REACH, mode=Mode.PRIVATE) & part.part
    # Sketch7 → Cut-Extrude2 (cut, up to next)
    with BuildSketch(Plane(origin=(136.525, 0, 0), x_dir=(0, 0, -1), z_dir=(1, 0, 0)), mode=Mode.PRIVATE) as cut_extrude2_sk13:
        with BuildLine():
            Line((-37.211, 18.161), (-37.211, 21.336))
            ThreePointArc((-37.211, 21.336), (-39.45606403, 15.91593597), (-34.036, 18.161))
            Line((-34.036, 18.161), (-37.211, 18.161))
        make_face()
    cut_extrude2_tool13 = extrude(cut_extrude2_sk13.sketch, amount=-CUT_EXTRUDE2_REACH, mode=Mode.PRIVATE) & part.part
    # Sketch7 → Cut-Extrude2 (cut, up to next)
    with BuildSketch(Plane(origin=(136.525, 0, 0), x_dir=(0, 0, -1), z_dir=(1, 0, 0)), mode=Mode.PRIVATE) as cut_extrude2_sk14:
        with BuildLine():
            ThreePointArc((40.386, 18.161), (39.45606403, 20.40606403), (37.211, 21.336))
            Line((37.211, 21.336), (37.211, 18.161))
            Line((37.211, 18.161), (34.036, 18.161))
            ThreePointArc((34.036, 18.161), (37.211, 14.986), (40.386, 18.161))
        make_face()
    cut_extrude2_tool14 = extrude(cut_extrude2_sk14.sketch, amount=-CUT_EXTRUDE2_REACH, mode=Mode.PRIVATE) & part.part
    # Sketch7 → Cut-Extrude2 (cut, up to next)
    with BuildSketch(Plane(origin=(136.525, 0, 0), x_dir=(0, 0, -1), z_dir=(1, 0, 0)), mode=Mode.PRIVATE) as cut_extrude2_sk15:
        with BuildLine():
            Line((37.211, 18.161), (37.211, 21.336))
            ThreePointArc((37.211, 21.336), (34.96593597, 20.40606403), (34.036, 18.161))
            Line((34.036, 18.161), (37.211, 18.161))
        make_face()
    cut_extrude2_tool15 = extrude(cut_extrude2_sk15.sketch, amount=-CUT_EXTRUDE2_REACH, mode=Mode.PRIVATE) & part.part
    # Sketch7 → Cut-Extrude2 (cut, up to next)
    with BuildSketch(Plane(origin=(136.525, 0, 0), x_dir=(0, 0, -1), z_dir=(1, 0, 0)), mode=Mode.PRIVATE) as cut_extrude2_sk16:
        with BuildLine():
            ThreePointArc((40.386, 18.161), (39.45606403, 20.40606403), (37.211, 21.336))
            Line((37.211, 21.336), (37.211, 18.161))
            Line((37.211, 18.161), (34.036, 18.161))
            ThreePointArc((34.036, 18.161), (37.211, 14.986), (40.386, 18.161))
        make_face()
    cut_extrude2_tool16 = extrude(cut_extrude2_sk16.sketch, amount=-CUT_EXTRUDE2_REACH, mode=Mode.PRIVATE) & part.part
    # Sketch7 → Cut-Extrude2 (cut, up to next)
    with BuildSketch(Plane(origin=(136.525, 0, 0), x_dir=(0, 0, -1), z_dir=(1, 0, 0)), mode=Mode.PRIVATE) as cut_extrude2_sk17:
        with BuildLine():
            Line((37.211, 18.161), (37.211, 21.336))
            ThreePointArc((37.211, 21.336), (34.96593597, 20.40606403), (34.036, 18.161))
            Line((34.036, 18.161), (37.211, 18.161))
        make_face()
    cut_extrude2_tool17 = extrude(cut_extrude2_sk17.sketch, amount=-CUT_EXTRUDE2_REACH, mode=Mode.PRIVATE) & part.part
    add(cut_extrude2_tool1.solids().sort_by_distance((136.525, 55.372, 0))[0], mode=Mode.SUBTRACT)
    add(cut_extrude2_tool2.solids().sort_by_distance((136.525, 93.032171, 37.660171))[0], mode=Mode.SUBTRACT)
    add(cut_extrude2_tool3.solids().sort_by_distance((136.525, 91.235488, 35.863488))[0], mode=Mode.SUBTRACT)
    add(cut_extrude2_tool4.solids().sort_by_distance((136.525, 93.032171, 37.660171))[0], mode=Mode.SUBTRACT)
    add(cut_extrude2_tool5.solids().sort_by_distance((136.525, 91.235488, 35.863488))[0], mode=Mode.SUBTRACT)
    add(cut_extrude2_tool6.solids().sort_by_distance((136.525, 93.032171, -37.660171))[0], mode=Mode.SUBTRACT)
    add(cut_extrude2_tool7.solids().sort_by_distance((136.525, 91.235488, -35.863488))[0], mode=Mode.SUBTRACT)
    add(cut_extrude2_tool8.solids().sort_by_distance((136.525, 93.032171, -37.660171))[0], mode=Mode.SUBTRACT)
    add(cut_extrude2_tool9.solids().sort_by_distance((136.525, 91.235488, -35.863488))[0], mode=Mode.SUBTRACT)
    add(cut_extrude2_tool10.solids().sort_by_distance((136.525, 19.508512, 35.863488))[0], mode=Mode.SUBTRACT)
    add(cut_extrude2_tool11.solids().sort_by_distance((136.525, 17.711829, 37.660171))[0], mode=Mode.SUBTRACT)
    add(cut_extrude2_tool12.solids().sort_by_distance((136.525, 19.508512, 35.863488))[0], mode=Mode.SUBTRACT)
    add(cut_extrude2_tool13.solids().sort_by_distance((136.525, 17.711829, 37.660171))[0], mode=Mode.SUBTRACT)
    add(cut_extrude2_tool14.solids().sort_by_distance((136.525, 17.711829, -37.660171))[0], mode=Mode.SUBTRACT)
    add(cut_extrude2_tool15.solids().sort_by_distance((136.525, 19.508512, -35.863488))[0], mode=Mode.SUBTRACT)
    add(cut_extrude2_tool16.solids().sort_by_distance((136.525, 17.711829, -37.660171))[0], mode=Mode.SUBTRACT)
    add(cut_extrude2_tool17.solids().sort_by_distance((136.525, 19.508512, -35.863488))[0], mode=Mode.SUBTRACT)

    # Sketch8 → Cut-Extrude3 (cut, up to next)
    with BuildSketch(Plane.ZY.offset(136.525), mode=Mode.PRIVATE) as cut_extrude3_sk1:
        with Locations((0, 19.05)):
            Circle(SKETCH8_R)
    cut_extrude3_tool1 = extrude(cut_extrude3_sk1.sketch, amount=-CUT_EXTRUDE3_REACH, mode=Mode.PRIVATE) & part.part
    add(cut_extrude3_tool1.solids().sort_by_distance((-136.525, 19.05, 0))[0], mode=Mode.SUBTRACT)

    # Sketch16 → Cut-Extrude10 (cut, through all)
    with BuildSketch(Plane.XY.offset(69.85)):
        with Locations((-33.063389048, 147.183217299)):
            Rectangle(SKETCH16_W, SKETCH16_H)
    extrude(amount=-CUT_EXTRUDE10_DEPTH, mode=Mode.SUBTRACT)

    # Left/Right → Cut-Extrude11 (cut, through all)
    with BuildSketch(Plane.ZY.offset(136.525)):
        with Locations((60.325, 3.175)):
            Rectangle(LEFT_RIGHT_W, LEFT_RIGHT_H)
        with Locations((38.1, 3.175)):
            Rectangle(LEFT_RIGHT_W_2, LEFT_RIGHT_H)
        with Locations((66.675, 19.05)):
            Rectangle(LEFT_RIGHT_W, LEFT_RIGHT_H_2)
        with Locations((12.7, 3.175)):
            Rectangle(LEFT_RIGHT_W_2, LEFT_RIGHT_H)
        with Locations((66.675, 44.45)):
            Rectangle(LEFT_RIGHT_W, LEFT_RIGHT_H_2)
        with Locations((-12.7, 3.175)):
            Rectangle(LEFT_RIGHT_W_2, LEFT_RIGHT_H)
        with Locations((66.675, 69.85)):
            Rectangle(LEFT_RIGHT_W, LEFT_RIGHT_H_2)
        with Locations((-38.1, 3.175)):
            Rectangle(LEFT_RIGHT_W_2, LEFT_RIGHT_H)
        with Locations((66.675, 95.25)):
            Rectangle(LEFT_RIGHT_W, LEFT_RIGHT_H_2)
        with Locations((-60.325, 3.175)):
            Rectangle(LEFT_RIGHT_W, LEFT_RIGHT_H)
        with Locations((66.675, 120.65)):
            Rectangle(LEFT_RIGHT_W, LEFT_RIGHT_H_2)
        with Locations((-66.675, 19.05)):
            Rectangle(LEFT_RIGHT_W, LEFT_RIGHT_H_2)
        with Locations((66.675, 146.05)):
            Rectangle(LEFT_RIGHT_W, LEFT_RIGHT_H_2)
        with Locations((-66.675, 44.45)):
            Rectangle(LEFT_RIGHT_W, LEFT_RIGHT_H_2)
        with Locations((66.675, 171.45)):
            Rectangle(LEFT_RIGHT_W, LEFT_RIGHT_H_2)
        with Locations((-66.675, 69.85)):
            Rectangle(LEFT_RIGHT_W, LEFT_RIGHT_H_2)
        with Locations((66.675, 196.85)):
            Rectangle(LEFT_RIGHT_W, LEFT_RIGHT_H_2)
        with Locations((-66.675, 95.25)):
            Rectangle(LEFT_RIGHT_W, LEFT_RIGHT_H_2)
        with Locations((66.675, 222.25)):
            Rectangle(LEFT_RIGHT_W, LEFT_RIGHT_H_2)
        with Locations((-66.675, 120.65)):
            Rectangle(LEFT_RIGHT_W, LEFT_RIGHT_H_2)
        with Locations((66.675, 247.65)):
            Rectangle(LEFT_RIGHT_W, LEFT_RIGHT_H_2)
        with Locations((-66.675, 146.05)):
            Rectangle(LEFT_RIGHT_W, LEFT_RIGHT_H_2)
        with Locations((66.675, 273.05)):
            Rectangle(LEFT_RIGHT_W, LEFT_RIGHT_H_2)
        with Locations((-66.675, 171.45)):
            Rectangle(LEFT_RIGHT_W, LEFT_RIGHT_H_2)
        with Locations((66.675, 298.45)):
            Rectangle(LEFT_RIGHT_W, LEFT_RIGHT_H_2)
        with Locations((-66.675, 196.85)):
            Rectangle(LEFT_RIGHT_W, LEFT_RIGHT_H_2)
        with Locations((-66.675, 222.25)):
            Rectangle(LEFT_RIGHT_W, LEFT_RIGHT_H_2)
        with Locations((-66.675, 247.65)):
            Rectangle(LEFT_RIGHT_W, LEFT_RIGHT_H_2)
        with Locations((-66.675, 273.05)):
            Rectangle(LEFT_RIGHT_W, LEFT_RIGHT_H_2)
        with Locations((-66.675, 298.45)):
            Rectangle(LEFT_RIGHT_W, LEFT_RIGHT_H_2)
    extrude(amount=-CUT_EXTRUDE11_DEPTH, mode=Mode.SUBTRACT)


solid = part.part
